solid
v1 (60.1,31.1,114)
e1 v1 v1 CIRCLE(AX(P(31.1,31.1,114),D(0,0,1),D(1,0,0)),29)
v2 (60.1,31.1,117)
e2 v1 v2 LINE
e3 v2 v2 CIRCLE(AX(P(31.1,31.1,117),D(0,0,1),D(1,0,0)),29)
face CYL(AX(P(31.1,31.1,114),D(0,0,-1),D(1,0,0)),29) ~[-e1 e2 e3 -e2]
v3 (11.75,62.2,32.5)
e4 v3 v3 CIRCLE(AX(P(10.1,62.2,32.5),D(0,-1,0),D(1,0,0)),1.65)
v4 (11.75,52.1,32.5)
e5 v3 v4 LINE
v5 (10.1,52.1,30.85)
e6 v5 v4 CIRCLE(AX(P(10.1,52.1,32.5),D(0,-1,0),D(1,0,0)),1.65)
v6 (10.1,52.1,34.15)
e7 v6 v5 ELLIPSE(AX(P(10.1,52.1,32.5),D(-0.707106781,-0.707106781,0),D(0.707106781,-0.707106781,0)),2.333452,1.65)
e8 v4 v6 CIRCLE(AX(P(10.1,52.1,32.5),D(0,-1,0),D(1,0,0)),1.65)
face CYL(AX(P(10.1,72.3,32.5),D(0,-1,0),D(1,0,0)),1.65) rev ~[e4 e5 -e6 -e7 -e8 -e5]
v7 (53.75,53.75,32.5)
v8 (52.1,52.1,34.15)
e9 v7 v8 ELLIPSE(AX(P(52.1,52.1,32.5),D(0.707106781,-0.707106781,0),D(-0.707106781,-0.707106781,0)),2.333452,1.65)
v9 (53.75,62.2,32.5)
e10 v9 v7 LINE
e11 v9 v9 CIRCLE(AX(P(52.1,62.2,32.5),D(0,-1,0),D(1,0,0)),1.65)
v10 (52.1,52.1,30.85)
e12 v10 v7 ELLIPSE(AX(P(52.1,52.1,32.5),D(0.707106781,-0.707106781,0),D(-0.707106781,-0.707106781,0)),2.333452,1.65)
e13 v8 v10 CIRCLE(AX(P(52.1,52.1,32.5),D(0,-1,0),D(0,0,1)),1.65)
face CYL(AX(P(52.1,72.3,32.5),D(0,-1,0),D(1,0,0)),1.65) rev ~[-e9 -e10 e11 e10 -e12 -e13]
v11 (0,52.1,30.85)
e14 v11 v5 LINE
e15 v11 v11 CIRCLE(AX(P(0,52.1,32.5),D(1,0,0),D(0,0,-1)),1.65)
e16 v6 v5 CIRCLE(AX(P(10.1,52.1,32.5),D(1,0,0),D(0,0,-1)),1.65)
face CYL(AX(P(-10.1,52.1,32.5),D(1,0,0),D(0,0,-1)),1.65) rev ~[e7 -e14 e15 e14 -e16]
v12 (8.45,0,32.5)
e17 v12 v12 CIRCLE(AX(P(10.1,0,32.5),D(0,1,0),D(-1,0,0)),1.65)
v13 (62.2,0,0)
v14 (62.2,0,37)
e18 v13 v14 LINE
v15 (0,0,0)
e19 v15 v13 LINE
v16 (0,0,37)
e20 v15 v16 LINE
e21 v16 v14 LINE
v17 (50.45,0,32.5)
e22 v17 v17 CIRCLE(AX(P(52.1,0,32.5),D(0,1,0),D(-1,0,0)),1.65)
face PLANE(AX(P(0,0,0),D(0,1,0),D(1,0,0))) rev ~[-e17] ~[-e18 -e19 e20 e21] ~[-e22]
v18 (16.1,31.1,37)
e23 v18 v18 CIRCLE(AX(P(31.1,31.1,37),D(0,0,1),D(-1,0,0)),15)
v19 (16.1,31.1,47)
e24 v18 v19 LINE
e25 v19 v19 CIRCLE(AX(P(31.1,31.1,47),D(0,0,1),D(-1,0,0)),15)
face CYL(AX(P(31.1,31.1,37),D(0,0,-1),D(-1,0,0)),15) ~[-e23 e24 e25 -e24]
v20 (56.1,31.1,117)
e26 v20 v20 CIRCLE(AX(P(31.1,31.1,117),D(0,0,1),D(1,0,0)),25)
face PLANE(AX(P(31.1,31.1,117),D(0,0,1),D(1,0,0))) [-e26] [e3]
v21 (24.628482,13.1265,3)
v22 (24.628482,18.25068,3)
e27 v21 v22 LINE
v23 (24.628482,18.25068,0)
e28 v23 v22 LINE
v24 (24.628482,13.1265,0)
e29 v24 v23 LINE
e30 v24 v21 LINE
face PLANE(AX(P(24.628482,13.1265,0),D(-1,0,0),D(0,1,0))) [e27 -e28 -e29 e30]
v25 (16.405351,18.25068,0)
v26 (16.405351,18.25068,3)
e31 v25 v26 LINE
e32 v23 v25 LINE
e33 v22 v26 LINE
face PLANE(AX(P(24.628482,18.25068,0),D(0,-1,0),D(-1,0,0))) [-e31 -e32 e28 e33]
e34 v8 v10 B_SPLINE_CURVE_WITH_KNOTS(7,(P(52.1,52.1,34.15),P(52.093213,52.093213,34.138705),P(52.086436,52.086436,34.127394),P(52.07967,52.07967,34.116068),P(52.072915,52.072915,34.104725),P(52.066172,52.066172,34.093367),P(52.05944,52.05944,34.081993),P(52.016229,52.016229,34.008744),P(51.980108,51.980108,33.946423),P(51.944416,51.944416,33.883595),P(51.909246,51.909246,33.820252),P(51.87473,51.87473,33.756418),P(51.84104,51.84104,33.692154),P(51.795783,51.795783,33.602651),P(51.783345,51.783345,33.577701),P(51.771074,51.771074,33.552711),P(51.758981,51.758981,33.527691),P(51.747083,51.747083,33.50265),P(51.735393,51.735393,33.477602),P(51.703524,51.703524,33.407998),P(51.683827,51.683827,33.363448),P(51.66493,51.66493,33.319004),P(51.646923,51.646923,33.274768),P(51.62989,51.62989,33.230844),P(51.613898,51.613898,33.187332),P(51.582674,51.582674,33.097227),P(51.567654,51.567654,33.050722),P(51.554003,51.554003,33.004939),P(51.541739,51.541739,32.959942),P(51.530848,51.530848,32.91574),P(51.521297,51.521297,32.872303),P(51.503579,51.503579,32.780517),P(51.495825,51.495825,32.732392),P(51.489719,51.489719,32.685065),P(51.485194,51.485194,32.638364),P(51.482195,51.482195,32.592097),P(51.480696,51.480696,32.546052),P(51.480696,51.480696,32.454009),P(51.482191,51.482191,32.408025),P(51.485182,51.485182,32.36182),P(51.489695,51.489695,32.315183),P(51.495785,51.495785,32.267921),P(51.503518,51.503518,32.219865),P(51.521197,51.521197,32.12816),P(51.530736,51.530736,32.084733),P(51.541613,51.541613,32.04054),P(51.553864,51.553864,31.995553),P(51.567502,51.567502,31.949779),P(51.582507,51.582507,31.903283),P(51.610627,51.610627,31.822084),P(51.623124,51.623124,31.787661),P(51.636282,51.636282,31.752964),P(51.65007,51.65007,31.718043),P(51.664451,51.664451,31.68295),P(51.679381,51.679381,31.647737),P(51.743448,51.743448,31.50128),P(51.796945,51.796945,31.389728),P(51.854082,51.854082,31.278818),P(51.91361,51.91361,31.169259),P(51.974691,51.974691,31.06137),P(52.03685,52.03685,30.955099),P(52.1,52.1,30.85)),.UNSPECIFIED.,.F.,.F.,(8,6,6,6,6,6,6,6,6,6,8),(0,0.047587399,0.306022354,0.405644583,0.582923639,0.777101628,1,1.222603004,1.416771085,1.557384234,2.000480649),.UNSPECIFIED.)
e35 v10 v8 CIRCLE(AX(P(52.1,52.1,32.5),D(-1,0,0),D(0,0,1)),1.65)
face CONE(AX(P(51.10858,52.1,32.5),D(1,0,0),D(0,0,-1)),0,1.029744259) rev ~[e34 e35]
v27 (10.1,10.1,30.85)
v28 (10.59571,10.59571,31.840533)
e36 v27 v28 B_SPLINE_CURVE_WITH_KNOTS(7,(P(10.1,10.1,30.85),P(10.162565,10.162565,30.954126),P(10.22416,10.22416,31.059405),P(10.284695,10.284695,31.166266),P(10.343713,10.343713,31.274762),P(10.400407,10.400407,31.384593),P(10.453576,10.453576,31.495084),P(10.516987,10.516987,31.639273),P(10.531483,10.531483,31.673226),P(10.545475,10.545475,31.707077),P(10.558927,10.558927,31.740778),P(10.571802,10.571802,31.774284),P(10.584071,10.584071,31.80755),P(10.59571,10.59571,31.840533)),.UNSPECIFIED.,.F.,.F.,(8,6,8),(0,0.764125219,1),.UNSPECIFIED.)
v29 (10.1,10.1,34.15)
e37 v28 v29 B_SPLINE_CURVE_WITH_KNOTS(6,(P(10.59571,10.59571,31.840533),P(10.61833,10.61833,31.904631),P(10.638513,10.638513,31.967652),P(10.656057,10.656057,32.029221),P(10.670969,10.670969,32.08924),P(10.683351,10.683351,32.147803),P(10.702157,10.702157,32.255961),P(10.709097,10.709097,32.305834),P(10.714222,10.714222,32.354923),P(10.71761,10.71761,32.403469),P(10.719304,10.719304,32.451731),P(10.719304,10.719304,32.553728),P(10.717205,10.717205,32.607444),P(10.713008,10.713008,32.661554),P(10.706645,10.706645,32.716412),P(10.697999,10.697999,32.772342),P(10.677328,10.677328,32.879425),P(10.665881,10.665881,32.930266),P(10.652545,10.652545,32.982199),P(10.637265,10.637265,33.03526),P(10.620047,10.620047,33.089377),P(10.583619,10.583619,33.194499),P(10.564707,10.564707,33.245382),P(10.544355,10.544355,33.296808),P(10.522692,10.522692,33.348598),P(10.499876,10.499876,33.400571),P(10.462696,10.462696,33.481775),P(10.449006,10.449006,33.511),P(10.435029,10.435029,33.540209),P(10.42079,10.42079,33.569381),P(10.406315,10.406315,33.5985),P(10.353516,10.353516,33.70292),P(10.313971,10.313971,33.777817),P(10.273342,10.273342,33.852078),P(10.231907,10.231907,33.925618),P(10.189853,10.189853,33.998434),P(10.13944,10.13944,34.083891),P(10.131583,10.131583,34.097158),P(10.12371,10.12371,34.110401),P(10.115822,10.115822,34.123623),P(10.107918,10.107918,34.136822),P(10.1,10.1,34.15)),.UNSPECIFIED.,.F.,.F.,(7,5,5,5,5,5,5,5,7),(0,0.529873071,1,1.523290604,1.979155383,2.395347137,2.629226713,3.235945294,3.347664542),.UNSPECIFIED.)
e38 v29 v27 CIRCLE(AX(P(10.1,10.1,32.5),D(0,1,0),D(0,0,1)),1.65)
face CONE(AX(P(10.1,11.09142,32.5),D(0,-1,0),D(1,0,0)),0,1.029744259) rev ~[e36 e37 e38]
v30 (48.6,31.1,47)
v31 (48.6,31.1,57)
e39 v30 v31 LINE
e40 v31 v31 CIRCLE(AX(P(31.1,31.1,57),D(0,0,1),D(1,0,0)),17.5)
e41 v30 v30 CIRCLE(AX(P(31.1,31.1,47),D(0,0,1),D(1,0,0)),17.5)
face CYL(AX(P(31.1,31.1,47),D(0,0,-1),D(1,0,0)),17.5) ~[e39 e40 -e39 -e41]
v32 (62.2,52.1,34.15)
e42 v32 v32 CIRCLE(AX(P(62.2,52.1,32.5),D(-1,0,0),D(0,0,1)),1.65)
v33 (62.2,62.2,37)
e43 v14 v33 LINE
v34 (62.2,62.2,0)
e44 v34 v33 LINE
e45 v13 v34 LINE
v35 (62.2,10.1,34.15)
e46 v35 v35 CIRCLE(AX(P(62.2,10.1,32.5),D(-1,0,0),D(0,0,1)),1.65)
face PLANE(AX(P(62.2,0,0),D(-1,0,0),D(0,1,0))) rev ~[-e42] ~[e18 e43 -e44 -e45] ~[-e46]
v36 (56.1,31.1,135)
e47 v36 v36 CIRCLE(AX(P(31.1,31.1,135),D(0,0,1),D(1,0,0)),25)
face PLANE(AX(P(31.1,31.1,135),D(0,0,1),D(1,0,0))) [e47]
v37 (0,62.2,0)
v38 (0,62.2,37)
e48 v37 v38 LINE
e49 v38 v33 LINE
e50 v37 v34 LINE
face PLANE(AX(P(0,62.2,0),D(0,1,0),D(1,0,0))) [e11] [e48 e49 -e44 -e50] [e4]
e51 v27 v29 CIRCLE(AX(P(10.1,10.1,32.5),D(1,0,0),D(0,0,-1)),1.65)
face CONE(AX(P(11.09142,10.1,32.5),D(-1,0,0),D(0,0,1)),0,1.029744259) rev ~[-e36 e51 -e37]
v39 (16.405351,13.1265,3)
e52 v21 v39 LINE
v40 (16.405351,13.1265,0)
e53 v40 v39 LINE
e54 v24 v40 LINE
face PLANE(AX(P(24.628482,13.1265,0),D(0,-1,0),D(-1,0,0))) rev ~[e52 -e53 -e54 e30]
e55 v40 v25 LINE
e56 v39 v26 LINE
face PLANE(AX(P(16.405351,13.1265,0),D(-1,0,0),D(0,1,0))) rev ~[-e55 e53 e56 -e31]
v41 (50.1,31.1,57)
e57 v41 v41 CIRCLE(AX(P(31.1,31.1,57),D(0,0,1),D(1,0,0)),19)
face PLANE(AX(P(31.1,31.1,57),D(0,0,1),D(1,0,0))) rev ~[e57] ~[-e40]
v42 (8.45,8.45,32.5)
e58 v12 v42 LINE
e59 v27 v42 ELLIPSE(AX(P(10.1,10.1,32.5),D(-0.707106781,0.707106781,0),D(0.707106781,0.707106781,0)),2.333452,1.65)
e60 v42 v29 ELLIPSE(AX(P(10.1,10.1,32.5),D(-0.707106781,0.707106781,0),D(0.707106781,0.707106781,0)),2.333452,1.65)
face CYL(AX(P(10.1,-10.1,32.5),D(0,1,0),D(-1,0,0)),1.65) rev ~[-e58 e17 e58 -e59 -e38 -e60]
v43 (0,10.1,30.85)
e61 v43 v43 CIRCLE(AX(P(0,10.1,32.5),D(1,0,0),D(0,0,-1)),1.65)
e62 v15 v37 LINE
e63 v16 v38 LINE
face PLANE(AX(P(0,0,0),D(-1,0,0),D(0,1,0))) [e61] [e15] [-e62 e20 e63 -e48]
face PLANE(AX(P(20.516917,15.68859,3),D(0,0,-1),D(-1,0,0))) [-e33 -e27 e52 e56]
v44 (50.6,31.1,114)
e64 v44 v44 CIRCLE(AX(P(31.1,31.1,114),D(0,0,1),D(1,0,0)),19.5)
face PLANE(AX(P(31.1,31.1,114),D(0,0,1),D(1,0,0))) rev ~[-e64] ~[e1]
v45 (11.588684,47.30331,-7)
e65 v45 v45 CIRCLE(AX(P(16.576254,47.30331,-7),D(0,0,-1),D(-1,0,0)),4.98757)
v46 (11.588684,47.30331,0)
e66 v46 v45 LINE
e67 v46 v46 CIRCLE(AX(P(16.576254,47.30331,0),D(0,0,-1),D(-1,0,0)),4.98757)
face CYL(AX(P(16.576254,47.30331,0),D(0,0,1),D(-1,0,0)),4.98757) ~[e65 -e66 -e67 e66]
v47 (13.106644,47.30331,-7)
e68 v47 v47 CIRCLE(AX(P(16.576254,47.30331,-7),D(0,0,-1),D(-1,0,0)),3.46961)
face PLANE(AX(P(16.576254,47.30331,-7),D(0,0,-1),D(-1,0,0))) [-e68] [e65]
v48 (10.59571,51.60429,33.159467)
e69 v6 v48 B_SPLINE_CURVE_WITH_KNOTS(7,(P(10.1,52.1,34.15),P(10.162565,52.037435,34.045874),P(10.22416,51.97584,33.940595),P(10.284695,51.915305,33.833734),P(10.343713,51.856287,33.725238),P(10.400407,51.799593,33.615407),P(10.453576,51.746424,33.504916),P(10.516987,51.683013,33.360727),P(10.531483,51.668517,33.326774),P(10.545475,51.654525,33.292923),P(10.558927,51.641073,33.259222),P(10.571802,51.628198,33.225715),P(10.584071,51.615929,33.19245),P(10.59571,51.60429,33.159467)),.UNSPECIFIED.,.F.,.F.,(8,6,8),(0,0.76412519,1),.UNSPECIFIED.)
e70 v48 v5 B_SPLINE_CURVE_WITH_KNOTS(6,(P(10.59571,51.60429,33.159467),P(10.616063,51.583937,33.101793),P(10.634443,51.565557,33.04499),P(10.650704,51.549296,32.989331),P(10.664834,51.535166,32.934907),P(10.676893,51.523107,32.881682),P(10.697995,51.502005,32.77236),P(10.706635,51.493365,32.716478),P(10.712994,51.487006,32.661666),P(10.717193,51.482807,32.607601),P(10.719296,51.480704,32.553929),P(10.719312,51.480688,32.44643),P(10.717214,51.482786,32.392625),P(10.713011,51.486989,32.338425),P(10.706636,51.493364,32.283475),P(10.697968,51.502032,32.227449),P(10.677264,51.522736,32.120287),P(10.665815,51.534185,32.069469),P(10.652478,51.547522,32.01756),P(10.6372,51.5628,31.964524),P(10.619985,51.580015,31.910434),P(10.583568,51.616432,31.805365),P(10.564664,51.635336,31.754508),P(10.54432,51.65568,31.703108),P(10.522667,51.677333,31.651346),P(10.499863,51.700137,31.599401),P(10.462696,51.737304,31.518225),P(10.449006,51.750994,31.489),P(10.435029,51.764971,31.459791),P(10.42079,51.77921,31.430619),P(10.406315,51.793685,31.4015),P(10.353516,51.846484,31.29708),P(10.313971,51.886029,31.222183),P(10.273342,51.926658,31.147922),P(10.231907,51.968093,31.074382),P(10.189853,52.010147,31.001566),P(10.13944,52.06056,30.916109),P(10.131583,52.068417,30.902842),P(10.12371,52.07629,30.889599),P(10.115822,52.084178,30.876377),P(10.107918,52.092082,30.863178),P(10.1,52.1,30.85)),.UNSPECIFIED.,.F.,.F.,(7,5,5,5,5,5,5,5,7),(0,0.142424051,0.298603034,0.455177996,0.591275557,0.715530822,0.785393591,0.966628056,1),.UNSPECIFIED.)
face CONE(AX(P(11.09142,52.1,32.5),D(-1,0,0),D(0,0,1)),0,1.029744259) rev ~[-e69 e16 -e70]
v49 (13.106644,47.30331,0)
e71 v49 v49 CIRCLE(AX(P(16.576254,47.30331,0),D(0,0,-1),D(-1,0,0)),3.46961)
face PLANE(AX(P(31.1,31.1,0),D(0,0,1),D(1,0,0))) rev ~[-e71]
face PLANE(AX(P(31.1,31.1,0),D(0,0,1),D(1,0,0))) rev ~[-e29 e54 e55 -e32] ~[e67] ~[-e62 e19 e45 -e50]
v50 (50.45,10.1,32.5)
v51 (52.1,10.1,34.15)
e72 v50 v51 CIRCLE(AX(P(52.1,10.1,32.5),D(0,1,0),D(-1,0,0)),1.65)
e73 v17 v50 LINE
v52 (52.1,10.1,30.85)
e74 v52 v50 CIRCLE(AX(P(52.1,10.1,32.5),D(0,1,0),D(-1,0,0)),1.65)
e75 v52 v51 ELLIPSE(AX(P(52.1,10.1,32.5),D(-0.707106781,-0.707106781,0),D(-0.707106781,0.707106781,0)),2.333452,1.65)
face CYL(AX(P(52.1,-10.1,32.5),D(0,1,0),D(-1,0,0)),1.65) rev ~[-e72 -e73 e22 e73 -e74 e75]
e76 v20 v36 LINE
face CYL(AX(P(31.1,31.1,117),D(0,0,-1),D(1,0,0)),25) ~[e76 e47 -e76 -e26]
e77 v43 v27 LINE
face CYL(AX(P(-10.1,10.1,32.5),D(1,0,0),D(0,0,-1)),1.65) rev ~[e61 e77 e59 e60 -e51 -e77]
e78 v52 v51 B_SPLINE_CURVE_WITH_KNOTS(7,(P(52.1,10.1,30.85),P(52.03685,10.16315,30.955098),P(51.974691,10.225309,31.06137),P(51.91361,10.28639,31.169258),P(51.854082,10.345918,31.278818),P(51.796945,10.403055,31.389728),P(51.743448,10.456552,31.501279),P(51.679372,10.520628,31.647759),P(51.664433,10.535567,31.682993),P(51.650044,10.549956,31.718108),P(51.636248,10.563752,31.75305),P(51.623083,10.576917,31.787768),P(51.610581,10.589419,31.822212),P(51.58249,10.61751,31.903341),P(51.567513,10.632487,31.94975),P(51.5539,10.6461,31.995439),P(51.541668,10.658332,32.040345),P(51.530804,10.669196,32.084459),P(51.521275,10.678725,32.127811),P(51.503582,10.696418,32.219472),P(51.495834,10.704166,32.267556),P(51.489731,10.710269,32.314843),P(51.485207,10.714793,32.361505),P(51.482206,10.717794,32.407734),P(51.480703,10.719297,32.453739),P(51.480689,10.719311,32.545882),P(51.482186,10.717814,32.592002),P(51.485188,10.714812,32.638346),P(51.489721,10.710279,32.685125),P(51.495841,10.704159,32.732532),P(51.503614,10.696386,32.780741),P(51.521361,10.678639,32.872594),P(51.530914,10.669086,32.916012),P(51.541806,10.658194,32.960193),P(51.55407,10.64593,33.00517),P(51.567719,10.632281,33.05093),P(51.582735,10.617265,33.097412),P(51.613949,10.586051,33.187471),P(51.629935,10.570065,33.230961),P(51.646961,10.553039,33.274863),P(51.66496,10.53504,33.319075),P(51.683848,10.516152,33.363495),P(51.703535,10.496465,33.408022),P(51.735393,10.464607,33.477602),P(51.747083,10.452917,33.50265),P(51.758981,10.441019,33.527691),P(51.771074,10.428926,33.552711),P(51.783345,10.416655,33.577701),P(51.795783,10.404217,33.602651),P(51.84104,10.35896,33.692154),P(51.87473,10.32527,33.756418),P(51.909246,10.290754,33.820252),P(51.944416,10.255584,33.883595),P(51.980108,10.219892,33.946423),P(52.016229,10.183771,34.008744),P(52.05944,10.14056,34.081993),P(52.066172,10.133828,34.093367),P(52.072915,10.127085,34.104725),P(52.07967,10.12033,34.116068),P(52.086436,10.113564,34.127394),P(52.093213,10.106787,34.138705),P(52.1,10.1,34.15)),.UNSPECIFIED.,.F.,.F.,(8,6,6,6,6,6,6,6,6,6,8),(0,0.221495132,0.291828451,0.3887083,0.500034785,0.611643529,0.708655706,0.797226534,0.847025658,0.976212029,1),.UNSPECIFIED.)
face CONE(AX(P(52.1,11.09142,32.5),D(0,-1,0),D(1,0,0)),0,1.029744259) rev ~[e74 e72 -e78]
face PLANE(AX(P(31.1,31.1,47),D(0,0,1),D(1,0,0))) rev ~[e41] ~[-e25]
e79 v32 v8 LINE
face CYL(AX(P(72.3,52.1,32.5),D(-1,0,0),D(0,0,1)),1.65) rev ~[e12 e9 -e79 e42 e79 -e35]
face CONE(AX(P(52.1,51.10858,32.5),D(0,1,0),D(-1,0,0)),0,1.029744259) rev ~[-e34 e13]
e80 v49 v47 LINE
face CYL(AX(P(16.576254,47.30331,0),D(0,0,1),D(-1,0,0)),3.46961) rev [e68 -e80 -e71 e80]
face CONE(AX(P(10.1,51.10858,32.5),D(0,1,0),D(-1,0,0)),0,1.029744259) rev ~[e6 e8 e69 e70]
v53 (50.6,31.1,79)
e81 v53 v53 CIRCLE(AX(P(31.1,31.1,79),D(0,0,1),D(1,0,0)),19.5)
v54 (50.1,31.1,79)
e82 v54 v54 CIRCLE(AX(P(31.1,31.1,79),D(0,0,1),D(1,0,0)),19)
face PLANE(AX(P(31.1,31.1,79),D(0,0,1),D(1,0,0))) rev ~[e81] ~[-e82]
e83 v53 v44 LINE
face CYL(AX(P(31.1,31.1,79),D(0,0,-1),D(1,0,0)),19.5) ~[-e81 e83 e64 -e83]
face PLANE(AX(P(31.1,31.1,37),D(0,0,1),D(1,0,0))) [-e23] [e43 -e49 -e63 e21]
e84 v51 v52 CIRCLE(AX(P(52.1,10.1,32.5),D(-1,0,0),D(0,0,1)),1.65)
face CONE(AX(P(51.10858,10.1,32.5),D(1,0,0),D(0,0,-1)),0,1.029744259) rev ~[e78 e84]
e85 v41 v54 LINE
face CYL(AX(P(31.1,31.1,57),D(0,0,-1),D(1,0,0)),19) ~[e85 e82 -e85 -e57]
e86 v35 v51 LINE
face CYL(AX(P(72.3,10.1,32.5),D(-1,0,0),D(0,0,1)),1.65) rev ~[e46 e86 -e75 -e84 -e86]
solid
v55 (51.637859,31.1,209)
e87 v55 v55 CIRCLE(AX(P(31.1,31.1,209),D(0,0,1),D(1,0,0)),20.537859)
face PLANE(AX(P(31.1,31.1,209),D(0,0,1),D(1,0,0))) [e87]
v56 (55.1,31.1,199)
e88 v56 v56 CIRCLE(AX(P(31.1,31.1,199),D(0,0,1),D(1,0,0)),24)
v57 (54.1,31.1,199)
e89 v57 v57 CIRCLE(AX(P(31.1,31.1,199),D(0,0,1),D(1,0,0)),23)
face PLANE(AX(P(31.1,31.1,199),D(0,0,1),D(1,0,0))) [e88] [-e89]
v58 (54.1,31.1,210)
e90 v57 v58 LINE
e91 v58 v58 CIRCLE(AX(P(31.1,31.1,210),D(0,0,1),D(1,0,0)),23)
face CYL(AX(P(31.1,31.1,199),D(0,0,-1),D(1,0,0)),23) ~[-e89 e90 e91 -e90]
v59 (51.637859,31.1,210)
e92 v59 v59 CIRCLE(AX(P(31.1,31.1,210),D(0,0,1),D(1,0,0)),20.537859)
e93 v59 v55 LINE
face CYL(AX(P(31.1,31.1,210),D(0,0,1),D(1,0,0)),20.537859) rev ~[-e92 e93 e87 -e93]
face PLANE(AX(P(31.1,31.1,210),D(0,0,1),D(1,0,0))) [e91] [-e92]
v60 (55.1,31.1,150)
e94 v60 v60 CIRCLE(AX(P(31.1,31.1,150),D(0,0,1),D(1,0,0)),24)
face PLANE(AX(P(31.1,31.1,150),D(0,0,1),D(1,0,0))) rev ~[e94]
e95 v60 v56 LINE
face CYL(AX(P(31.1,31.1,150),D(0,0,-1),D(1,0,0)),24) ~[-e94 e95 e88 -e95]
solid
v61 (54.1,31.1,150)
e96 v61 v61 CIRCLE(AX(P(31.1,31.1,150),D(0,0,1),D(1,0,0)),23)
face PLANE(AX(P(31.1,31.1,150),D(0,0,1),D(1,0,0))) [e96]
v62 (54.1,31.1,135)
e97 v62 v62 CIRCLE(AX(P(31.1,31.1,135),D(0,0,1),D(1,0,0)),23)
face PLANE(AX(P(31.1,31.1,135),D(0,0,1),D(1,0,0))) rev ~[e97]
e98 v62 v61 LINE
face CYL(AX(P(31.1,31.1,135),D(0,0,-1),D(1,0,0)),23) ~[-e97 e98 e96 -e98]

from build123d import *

# Parameters (mm, degrees)
SKETCH_1_W             = 62.2
SKETCH_1_H             = 62.2
EXTRUDE_1_DEPTH        = 37
SKETCH_2_R             = 15
EXTRUDE_2_DEPTH        = 10
SKETCH_3_R             = 17.5
EXTRUDE_3_DEPTH        = 10
SKETCH_4_R             = 19
EXTRUDE_4_DEPTH        = 22
SKETCH_5_R             = 19.5
EXTRUDE_5_DEPTH        = 35
SKETCH_6_R             = 29
EXTRUDE_6_DEPTH        = 3
SKETCH_7_R             = 25
EXTRUDE_7_DEPTH        = 18
SKETCH_9_R             = 4.987570285
SKETCH_9_R_2           = 3.46960963
EXTRUDE_8_DEPTH        = 7
SKETCH_10_W            = 8.223130645
SKETCH_10_H            = 5.124180357
CUT_EXTRUDE_2_DEPTH    = 3
HOLE_WIZARD_M4_1_D     = 3.3
HOLE_WIZARD_M4_1_DEPTH = 10.1
HOLE_WIZARD_M4_1_TIP   = 0.991420021
HOLE_WIZARD_M4_2_D     = 3.3
HOLE_WIZARD_M4_2_DEPTH = 10.1
HOLE_WIZARD_M4_2_TIP   = 0.991420021
HOLE_WIZARD_M4_3_D     = 3.3
HOLE_WIZARD_M4_3_DEPTH = 10.1
HOLE_WIZARD_M4_3_TIP   = 0.991420021
HOLE_WIZARD_M4_4_D     = 3.3
HOLE_WIZARD_M4_4_DEPTH = 10.1
HOLE_WIZARD_M4_4_TIP   = 0.991420021
SKETCH_8_R             = 23
EXTRUDE_9_DEPTH        = 15
SKETCH_19_R            = 24
EXTRUDE_10_DEPTH       = 49
SKETCH_20_R            = 23
EXTRUDE_11_DEPTH       = 11
SKETCH_21_R            = 20.537858868
CUT_EXTRUDE_3_DEPTH    = 1


with BuildPart() as part:
    # 草图1 → 凸台-拉伸1 (new body)
    with BuildSketch(Plane.XY):
        with Locations((31.1, 31.1)):
            Rectangle(SKETCH_1_W, SKETCH_1_H)
    extrude(amount=EXTRUDE_1_DEPTH)

    # 草图2 → 凸台-拉伸2 (add)
    with BuildSketch(Plane.XY.offset(37)):
        with Locations(Location((31.1, 31.1, 0), (0, 0, 180))):
            Circle(SKETCH_2_R)
    extrude(amount=EXTRUDE_2_DEPTH)

    # 草图3 → 凸台-拉伸3 (add)
    with BuildSketch(Plane.XY.offset(47)):
        with Locations((31.1, 31.1)):
            Circle(SKETCH_3_R)
    extrude(amount=EXTRUDE_3_DEPTH)

    # 草图4 → 凸台-拉伸4 (add)
    with BuildSketch(Plane.XY.offset(57)):
        with Locations((31.1, 31.1)):
            Circle(SKETCH_4_R)
    extrude(amount=EXTRUDE_4_DEPTH)

    # 草图5 → 凸台-拉伸5 (add)
    with BuildSketch(Plane.XY.offset(79)):
        with Locations((31.1, 31.1)):
            Circle(SKETCH_5_R)
    extrude(amount=EXTRUDE_5_DEPTH)

    # 草图6 → 凸台-拉伸6 (add)
    with BuildSketch(Plane.XY.offset(114)):
        with Locations((31.1, 31.1)):
            Circle(SKETCH_6_R)
    extrude(amount=EXTRUDE_6_DEPTH)

    # 草图7 → 凸台-拉伸7 (add)
    with BuildSketch(Plane.XY.offset(117)):
        with Locations((31.1, 31.1)):
            Circle(SKETCH_7_R)
    extrude(amount=EXTRUDE_7_DEPTH)

    # 草图9 → 凸台-拉伸8 (add)
    with BuildSketch(Plane(origin=(0, 0, 0), x_dir=(-1, 0, 0), z_dir=(0, 0, -1))):
        with Locations((-16.576254003, 47.30330958)):
            Circle(SKETCH_9_R)
        with Locations((-16.576254003, 47.30330958)):
            Circle(SKETCH_9_R_2, mode=Mode.SUBTRACT)
    extrude(amount=EXTRUDE_8_DEPTH)

    # 草图10 → 切除-拉伸2 (cut)
    with BuildSketch(Plane(origin=(0, 0, 0), x_dir=(-1, 0, 0), z_dir=(0, 0, -1))):
        with Locations((-20.516916702, 15.688590304)):
            Rectangle(SKETCH_10_W, SKETCH_10_H)
    extrude(amount=-CUT_EXTRUDE_2_DEPTH, mode=Mode.SUBTRACT)

    # M4 螺纹孔1
    with Locations(Plane(origin=(0, 62.2, 0), x_dir=(-1, 0, 0), z_dir=(0, 1, 0))):
        with Locations((-10.1, 32.5), (-52.1, 32.5)):
            Hole(HOLE_WIZARD_M4_1_D / 2, depth=HOLE_WIZARD_M4_1_DEPTH)
            with Locations((0, 0, -(HOLE_WIZARD_M4_1_DEPTH + HOLE_WIZARD_M4_1_TIP / 2))):  # 118° drill point
                Cone(0, HOLE_WIZARD_M4_1_D / 2, HOLE_WIZARD_M4_1_TIP, mode=Mode.SUBTRACT)

    # M4 螺纹孔2
    with Locations(Plane(origin=(62.2, 0, 0), x_dir=(0, 0, -1), z_dir=(1, 0, 0))):
        with Locations((-32.5, 10.1), (-32.5, 52.1)):
            Hole(HOLE_WIZARD_M4_2_D / 2, depth=HOLE_WIZARD_M4_2_DEPTH)
            with Locations((0, 0, -(HOLE_WIZARD_M4_2_DEPTH + HOLE_WIZARD_M4_2_TIP / 2))):  # 118° drill point
                Cone(0, HOLE_WIZARD_M4_2_D / 2, HOLE_WIZARD_M4_2_TIP, mode=Mode.SUBTRACT)

    # M4 螺纹孔3
    with Locations(Plane.XZ):
        with Locations((10.1, 32.5), (52.1, 32.5)):
            Hole(HOLE_WIZARD_M4_3_D / 2, depth=HOLE_WIZARD_M4_3_DEPTH)
            with Locations((0, 0, -(HOLE_WIZARD_M4_3_DEPTH + HOLE_WIZARD_M4_3_TIP / 2))):  # 118° drill point
                Cone(0, HOLE_WIZARD_M4_3_D / 2, HOLE_WIZARD_M4_3_TIP, mode=Mode.SUBTRACT)

    # M4 螺纹孔4
    with Locations(Plane.ZY):
        with Locations((32.5, 52.1), (32.5, 10.1)):
            Hole(HOLE_WIZARD_M4_4_D / 2, depth=HOLE_WIZARD_M4_4_DEPTH)
            with Locations((0, 0, -(HOLE_WIZARD_M4_4_DEPTH + HOLE_WIZARD_M4_4_TIP / 2))):  # 118° drill point
                Cone(0, HOLE_WIZARD_M4_4_D / 2, HOLE_WIZARD_M4_4_TIP, mode=Mode.SUBTRACT)


with BuildPart() as body_2:
    # 草图8 → 凸台-拉伸9 (new body)
    with BuildSketch(Plane.XY.offset(135)):
        with Locations((31.1, 31.1)):
            Circle(SKETCH_8_R)
    extrude(amount=EXTRUDE_9_DEPTH)


with BuildPart() as body_3:
    # 草图19 → 凸台-拉伸10 (new body)
    with BuildSketch(Plane.XY.offset(150)):
        with Locations((31.1, 31.1)):
            Circle(SKETCH_19_R)
    extrude(amount=EXTRUDE_10_DEPTH)

    # 草图20 → 凸台-拉伸11 (add)
    with BuildSketch(Plane.XY.offset(199)):
        with Locations((31.1, 31.1)):
            Circle(SKETCH_20_R)
    extrude(amount=EXTRUDE_11_DEPTH)

    # 草图21 → 切除-拉伸3 (cut)
    with BuildSketch(Plane.XY.offset(210)):
        with Locations((31.1, 31.1)):
            Circle(SKETCH_21_R)
    extrude(amount=-CUT_EXTRUDE_3_DEPTH, mode=Mode.SUBTRACT)


solid = Compound([part.part, body_2.part, body_3.part])
